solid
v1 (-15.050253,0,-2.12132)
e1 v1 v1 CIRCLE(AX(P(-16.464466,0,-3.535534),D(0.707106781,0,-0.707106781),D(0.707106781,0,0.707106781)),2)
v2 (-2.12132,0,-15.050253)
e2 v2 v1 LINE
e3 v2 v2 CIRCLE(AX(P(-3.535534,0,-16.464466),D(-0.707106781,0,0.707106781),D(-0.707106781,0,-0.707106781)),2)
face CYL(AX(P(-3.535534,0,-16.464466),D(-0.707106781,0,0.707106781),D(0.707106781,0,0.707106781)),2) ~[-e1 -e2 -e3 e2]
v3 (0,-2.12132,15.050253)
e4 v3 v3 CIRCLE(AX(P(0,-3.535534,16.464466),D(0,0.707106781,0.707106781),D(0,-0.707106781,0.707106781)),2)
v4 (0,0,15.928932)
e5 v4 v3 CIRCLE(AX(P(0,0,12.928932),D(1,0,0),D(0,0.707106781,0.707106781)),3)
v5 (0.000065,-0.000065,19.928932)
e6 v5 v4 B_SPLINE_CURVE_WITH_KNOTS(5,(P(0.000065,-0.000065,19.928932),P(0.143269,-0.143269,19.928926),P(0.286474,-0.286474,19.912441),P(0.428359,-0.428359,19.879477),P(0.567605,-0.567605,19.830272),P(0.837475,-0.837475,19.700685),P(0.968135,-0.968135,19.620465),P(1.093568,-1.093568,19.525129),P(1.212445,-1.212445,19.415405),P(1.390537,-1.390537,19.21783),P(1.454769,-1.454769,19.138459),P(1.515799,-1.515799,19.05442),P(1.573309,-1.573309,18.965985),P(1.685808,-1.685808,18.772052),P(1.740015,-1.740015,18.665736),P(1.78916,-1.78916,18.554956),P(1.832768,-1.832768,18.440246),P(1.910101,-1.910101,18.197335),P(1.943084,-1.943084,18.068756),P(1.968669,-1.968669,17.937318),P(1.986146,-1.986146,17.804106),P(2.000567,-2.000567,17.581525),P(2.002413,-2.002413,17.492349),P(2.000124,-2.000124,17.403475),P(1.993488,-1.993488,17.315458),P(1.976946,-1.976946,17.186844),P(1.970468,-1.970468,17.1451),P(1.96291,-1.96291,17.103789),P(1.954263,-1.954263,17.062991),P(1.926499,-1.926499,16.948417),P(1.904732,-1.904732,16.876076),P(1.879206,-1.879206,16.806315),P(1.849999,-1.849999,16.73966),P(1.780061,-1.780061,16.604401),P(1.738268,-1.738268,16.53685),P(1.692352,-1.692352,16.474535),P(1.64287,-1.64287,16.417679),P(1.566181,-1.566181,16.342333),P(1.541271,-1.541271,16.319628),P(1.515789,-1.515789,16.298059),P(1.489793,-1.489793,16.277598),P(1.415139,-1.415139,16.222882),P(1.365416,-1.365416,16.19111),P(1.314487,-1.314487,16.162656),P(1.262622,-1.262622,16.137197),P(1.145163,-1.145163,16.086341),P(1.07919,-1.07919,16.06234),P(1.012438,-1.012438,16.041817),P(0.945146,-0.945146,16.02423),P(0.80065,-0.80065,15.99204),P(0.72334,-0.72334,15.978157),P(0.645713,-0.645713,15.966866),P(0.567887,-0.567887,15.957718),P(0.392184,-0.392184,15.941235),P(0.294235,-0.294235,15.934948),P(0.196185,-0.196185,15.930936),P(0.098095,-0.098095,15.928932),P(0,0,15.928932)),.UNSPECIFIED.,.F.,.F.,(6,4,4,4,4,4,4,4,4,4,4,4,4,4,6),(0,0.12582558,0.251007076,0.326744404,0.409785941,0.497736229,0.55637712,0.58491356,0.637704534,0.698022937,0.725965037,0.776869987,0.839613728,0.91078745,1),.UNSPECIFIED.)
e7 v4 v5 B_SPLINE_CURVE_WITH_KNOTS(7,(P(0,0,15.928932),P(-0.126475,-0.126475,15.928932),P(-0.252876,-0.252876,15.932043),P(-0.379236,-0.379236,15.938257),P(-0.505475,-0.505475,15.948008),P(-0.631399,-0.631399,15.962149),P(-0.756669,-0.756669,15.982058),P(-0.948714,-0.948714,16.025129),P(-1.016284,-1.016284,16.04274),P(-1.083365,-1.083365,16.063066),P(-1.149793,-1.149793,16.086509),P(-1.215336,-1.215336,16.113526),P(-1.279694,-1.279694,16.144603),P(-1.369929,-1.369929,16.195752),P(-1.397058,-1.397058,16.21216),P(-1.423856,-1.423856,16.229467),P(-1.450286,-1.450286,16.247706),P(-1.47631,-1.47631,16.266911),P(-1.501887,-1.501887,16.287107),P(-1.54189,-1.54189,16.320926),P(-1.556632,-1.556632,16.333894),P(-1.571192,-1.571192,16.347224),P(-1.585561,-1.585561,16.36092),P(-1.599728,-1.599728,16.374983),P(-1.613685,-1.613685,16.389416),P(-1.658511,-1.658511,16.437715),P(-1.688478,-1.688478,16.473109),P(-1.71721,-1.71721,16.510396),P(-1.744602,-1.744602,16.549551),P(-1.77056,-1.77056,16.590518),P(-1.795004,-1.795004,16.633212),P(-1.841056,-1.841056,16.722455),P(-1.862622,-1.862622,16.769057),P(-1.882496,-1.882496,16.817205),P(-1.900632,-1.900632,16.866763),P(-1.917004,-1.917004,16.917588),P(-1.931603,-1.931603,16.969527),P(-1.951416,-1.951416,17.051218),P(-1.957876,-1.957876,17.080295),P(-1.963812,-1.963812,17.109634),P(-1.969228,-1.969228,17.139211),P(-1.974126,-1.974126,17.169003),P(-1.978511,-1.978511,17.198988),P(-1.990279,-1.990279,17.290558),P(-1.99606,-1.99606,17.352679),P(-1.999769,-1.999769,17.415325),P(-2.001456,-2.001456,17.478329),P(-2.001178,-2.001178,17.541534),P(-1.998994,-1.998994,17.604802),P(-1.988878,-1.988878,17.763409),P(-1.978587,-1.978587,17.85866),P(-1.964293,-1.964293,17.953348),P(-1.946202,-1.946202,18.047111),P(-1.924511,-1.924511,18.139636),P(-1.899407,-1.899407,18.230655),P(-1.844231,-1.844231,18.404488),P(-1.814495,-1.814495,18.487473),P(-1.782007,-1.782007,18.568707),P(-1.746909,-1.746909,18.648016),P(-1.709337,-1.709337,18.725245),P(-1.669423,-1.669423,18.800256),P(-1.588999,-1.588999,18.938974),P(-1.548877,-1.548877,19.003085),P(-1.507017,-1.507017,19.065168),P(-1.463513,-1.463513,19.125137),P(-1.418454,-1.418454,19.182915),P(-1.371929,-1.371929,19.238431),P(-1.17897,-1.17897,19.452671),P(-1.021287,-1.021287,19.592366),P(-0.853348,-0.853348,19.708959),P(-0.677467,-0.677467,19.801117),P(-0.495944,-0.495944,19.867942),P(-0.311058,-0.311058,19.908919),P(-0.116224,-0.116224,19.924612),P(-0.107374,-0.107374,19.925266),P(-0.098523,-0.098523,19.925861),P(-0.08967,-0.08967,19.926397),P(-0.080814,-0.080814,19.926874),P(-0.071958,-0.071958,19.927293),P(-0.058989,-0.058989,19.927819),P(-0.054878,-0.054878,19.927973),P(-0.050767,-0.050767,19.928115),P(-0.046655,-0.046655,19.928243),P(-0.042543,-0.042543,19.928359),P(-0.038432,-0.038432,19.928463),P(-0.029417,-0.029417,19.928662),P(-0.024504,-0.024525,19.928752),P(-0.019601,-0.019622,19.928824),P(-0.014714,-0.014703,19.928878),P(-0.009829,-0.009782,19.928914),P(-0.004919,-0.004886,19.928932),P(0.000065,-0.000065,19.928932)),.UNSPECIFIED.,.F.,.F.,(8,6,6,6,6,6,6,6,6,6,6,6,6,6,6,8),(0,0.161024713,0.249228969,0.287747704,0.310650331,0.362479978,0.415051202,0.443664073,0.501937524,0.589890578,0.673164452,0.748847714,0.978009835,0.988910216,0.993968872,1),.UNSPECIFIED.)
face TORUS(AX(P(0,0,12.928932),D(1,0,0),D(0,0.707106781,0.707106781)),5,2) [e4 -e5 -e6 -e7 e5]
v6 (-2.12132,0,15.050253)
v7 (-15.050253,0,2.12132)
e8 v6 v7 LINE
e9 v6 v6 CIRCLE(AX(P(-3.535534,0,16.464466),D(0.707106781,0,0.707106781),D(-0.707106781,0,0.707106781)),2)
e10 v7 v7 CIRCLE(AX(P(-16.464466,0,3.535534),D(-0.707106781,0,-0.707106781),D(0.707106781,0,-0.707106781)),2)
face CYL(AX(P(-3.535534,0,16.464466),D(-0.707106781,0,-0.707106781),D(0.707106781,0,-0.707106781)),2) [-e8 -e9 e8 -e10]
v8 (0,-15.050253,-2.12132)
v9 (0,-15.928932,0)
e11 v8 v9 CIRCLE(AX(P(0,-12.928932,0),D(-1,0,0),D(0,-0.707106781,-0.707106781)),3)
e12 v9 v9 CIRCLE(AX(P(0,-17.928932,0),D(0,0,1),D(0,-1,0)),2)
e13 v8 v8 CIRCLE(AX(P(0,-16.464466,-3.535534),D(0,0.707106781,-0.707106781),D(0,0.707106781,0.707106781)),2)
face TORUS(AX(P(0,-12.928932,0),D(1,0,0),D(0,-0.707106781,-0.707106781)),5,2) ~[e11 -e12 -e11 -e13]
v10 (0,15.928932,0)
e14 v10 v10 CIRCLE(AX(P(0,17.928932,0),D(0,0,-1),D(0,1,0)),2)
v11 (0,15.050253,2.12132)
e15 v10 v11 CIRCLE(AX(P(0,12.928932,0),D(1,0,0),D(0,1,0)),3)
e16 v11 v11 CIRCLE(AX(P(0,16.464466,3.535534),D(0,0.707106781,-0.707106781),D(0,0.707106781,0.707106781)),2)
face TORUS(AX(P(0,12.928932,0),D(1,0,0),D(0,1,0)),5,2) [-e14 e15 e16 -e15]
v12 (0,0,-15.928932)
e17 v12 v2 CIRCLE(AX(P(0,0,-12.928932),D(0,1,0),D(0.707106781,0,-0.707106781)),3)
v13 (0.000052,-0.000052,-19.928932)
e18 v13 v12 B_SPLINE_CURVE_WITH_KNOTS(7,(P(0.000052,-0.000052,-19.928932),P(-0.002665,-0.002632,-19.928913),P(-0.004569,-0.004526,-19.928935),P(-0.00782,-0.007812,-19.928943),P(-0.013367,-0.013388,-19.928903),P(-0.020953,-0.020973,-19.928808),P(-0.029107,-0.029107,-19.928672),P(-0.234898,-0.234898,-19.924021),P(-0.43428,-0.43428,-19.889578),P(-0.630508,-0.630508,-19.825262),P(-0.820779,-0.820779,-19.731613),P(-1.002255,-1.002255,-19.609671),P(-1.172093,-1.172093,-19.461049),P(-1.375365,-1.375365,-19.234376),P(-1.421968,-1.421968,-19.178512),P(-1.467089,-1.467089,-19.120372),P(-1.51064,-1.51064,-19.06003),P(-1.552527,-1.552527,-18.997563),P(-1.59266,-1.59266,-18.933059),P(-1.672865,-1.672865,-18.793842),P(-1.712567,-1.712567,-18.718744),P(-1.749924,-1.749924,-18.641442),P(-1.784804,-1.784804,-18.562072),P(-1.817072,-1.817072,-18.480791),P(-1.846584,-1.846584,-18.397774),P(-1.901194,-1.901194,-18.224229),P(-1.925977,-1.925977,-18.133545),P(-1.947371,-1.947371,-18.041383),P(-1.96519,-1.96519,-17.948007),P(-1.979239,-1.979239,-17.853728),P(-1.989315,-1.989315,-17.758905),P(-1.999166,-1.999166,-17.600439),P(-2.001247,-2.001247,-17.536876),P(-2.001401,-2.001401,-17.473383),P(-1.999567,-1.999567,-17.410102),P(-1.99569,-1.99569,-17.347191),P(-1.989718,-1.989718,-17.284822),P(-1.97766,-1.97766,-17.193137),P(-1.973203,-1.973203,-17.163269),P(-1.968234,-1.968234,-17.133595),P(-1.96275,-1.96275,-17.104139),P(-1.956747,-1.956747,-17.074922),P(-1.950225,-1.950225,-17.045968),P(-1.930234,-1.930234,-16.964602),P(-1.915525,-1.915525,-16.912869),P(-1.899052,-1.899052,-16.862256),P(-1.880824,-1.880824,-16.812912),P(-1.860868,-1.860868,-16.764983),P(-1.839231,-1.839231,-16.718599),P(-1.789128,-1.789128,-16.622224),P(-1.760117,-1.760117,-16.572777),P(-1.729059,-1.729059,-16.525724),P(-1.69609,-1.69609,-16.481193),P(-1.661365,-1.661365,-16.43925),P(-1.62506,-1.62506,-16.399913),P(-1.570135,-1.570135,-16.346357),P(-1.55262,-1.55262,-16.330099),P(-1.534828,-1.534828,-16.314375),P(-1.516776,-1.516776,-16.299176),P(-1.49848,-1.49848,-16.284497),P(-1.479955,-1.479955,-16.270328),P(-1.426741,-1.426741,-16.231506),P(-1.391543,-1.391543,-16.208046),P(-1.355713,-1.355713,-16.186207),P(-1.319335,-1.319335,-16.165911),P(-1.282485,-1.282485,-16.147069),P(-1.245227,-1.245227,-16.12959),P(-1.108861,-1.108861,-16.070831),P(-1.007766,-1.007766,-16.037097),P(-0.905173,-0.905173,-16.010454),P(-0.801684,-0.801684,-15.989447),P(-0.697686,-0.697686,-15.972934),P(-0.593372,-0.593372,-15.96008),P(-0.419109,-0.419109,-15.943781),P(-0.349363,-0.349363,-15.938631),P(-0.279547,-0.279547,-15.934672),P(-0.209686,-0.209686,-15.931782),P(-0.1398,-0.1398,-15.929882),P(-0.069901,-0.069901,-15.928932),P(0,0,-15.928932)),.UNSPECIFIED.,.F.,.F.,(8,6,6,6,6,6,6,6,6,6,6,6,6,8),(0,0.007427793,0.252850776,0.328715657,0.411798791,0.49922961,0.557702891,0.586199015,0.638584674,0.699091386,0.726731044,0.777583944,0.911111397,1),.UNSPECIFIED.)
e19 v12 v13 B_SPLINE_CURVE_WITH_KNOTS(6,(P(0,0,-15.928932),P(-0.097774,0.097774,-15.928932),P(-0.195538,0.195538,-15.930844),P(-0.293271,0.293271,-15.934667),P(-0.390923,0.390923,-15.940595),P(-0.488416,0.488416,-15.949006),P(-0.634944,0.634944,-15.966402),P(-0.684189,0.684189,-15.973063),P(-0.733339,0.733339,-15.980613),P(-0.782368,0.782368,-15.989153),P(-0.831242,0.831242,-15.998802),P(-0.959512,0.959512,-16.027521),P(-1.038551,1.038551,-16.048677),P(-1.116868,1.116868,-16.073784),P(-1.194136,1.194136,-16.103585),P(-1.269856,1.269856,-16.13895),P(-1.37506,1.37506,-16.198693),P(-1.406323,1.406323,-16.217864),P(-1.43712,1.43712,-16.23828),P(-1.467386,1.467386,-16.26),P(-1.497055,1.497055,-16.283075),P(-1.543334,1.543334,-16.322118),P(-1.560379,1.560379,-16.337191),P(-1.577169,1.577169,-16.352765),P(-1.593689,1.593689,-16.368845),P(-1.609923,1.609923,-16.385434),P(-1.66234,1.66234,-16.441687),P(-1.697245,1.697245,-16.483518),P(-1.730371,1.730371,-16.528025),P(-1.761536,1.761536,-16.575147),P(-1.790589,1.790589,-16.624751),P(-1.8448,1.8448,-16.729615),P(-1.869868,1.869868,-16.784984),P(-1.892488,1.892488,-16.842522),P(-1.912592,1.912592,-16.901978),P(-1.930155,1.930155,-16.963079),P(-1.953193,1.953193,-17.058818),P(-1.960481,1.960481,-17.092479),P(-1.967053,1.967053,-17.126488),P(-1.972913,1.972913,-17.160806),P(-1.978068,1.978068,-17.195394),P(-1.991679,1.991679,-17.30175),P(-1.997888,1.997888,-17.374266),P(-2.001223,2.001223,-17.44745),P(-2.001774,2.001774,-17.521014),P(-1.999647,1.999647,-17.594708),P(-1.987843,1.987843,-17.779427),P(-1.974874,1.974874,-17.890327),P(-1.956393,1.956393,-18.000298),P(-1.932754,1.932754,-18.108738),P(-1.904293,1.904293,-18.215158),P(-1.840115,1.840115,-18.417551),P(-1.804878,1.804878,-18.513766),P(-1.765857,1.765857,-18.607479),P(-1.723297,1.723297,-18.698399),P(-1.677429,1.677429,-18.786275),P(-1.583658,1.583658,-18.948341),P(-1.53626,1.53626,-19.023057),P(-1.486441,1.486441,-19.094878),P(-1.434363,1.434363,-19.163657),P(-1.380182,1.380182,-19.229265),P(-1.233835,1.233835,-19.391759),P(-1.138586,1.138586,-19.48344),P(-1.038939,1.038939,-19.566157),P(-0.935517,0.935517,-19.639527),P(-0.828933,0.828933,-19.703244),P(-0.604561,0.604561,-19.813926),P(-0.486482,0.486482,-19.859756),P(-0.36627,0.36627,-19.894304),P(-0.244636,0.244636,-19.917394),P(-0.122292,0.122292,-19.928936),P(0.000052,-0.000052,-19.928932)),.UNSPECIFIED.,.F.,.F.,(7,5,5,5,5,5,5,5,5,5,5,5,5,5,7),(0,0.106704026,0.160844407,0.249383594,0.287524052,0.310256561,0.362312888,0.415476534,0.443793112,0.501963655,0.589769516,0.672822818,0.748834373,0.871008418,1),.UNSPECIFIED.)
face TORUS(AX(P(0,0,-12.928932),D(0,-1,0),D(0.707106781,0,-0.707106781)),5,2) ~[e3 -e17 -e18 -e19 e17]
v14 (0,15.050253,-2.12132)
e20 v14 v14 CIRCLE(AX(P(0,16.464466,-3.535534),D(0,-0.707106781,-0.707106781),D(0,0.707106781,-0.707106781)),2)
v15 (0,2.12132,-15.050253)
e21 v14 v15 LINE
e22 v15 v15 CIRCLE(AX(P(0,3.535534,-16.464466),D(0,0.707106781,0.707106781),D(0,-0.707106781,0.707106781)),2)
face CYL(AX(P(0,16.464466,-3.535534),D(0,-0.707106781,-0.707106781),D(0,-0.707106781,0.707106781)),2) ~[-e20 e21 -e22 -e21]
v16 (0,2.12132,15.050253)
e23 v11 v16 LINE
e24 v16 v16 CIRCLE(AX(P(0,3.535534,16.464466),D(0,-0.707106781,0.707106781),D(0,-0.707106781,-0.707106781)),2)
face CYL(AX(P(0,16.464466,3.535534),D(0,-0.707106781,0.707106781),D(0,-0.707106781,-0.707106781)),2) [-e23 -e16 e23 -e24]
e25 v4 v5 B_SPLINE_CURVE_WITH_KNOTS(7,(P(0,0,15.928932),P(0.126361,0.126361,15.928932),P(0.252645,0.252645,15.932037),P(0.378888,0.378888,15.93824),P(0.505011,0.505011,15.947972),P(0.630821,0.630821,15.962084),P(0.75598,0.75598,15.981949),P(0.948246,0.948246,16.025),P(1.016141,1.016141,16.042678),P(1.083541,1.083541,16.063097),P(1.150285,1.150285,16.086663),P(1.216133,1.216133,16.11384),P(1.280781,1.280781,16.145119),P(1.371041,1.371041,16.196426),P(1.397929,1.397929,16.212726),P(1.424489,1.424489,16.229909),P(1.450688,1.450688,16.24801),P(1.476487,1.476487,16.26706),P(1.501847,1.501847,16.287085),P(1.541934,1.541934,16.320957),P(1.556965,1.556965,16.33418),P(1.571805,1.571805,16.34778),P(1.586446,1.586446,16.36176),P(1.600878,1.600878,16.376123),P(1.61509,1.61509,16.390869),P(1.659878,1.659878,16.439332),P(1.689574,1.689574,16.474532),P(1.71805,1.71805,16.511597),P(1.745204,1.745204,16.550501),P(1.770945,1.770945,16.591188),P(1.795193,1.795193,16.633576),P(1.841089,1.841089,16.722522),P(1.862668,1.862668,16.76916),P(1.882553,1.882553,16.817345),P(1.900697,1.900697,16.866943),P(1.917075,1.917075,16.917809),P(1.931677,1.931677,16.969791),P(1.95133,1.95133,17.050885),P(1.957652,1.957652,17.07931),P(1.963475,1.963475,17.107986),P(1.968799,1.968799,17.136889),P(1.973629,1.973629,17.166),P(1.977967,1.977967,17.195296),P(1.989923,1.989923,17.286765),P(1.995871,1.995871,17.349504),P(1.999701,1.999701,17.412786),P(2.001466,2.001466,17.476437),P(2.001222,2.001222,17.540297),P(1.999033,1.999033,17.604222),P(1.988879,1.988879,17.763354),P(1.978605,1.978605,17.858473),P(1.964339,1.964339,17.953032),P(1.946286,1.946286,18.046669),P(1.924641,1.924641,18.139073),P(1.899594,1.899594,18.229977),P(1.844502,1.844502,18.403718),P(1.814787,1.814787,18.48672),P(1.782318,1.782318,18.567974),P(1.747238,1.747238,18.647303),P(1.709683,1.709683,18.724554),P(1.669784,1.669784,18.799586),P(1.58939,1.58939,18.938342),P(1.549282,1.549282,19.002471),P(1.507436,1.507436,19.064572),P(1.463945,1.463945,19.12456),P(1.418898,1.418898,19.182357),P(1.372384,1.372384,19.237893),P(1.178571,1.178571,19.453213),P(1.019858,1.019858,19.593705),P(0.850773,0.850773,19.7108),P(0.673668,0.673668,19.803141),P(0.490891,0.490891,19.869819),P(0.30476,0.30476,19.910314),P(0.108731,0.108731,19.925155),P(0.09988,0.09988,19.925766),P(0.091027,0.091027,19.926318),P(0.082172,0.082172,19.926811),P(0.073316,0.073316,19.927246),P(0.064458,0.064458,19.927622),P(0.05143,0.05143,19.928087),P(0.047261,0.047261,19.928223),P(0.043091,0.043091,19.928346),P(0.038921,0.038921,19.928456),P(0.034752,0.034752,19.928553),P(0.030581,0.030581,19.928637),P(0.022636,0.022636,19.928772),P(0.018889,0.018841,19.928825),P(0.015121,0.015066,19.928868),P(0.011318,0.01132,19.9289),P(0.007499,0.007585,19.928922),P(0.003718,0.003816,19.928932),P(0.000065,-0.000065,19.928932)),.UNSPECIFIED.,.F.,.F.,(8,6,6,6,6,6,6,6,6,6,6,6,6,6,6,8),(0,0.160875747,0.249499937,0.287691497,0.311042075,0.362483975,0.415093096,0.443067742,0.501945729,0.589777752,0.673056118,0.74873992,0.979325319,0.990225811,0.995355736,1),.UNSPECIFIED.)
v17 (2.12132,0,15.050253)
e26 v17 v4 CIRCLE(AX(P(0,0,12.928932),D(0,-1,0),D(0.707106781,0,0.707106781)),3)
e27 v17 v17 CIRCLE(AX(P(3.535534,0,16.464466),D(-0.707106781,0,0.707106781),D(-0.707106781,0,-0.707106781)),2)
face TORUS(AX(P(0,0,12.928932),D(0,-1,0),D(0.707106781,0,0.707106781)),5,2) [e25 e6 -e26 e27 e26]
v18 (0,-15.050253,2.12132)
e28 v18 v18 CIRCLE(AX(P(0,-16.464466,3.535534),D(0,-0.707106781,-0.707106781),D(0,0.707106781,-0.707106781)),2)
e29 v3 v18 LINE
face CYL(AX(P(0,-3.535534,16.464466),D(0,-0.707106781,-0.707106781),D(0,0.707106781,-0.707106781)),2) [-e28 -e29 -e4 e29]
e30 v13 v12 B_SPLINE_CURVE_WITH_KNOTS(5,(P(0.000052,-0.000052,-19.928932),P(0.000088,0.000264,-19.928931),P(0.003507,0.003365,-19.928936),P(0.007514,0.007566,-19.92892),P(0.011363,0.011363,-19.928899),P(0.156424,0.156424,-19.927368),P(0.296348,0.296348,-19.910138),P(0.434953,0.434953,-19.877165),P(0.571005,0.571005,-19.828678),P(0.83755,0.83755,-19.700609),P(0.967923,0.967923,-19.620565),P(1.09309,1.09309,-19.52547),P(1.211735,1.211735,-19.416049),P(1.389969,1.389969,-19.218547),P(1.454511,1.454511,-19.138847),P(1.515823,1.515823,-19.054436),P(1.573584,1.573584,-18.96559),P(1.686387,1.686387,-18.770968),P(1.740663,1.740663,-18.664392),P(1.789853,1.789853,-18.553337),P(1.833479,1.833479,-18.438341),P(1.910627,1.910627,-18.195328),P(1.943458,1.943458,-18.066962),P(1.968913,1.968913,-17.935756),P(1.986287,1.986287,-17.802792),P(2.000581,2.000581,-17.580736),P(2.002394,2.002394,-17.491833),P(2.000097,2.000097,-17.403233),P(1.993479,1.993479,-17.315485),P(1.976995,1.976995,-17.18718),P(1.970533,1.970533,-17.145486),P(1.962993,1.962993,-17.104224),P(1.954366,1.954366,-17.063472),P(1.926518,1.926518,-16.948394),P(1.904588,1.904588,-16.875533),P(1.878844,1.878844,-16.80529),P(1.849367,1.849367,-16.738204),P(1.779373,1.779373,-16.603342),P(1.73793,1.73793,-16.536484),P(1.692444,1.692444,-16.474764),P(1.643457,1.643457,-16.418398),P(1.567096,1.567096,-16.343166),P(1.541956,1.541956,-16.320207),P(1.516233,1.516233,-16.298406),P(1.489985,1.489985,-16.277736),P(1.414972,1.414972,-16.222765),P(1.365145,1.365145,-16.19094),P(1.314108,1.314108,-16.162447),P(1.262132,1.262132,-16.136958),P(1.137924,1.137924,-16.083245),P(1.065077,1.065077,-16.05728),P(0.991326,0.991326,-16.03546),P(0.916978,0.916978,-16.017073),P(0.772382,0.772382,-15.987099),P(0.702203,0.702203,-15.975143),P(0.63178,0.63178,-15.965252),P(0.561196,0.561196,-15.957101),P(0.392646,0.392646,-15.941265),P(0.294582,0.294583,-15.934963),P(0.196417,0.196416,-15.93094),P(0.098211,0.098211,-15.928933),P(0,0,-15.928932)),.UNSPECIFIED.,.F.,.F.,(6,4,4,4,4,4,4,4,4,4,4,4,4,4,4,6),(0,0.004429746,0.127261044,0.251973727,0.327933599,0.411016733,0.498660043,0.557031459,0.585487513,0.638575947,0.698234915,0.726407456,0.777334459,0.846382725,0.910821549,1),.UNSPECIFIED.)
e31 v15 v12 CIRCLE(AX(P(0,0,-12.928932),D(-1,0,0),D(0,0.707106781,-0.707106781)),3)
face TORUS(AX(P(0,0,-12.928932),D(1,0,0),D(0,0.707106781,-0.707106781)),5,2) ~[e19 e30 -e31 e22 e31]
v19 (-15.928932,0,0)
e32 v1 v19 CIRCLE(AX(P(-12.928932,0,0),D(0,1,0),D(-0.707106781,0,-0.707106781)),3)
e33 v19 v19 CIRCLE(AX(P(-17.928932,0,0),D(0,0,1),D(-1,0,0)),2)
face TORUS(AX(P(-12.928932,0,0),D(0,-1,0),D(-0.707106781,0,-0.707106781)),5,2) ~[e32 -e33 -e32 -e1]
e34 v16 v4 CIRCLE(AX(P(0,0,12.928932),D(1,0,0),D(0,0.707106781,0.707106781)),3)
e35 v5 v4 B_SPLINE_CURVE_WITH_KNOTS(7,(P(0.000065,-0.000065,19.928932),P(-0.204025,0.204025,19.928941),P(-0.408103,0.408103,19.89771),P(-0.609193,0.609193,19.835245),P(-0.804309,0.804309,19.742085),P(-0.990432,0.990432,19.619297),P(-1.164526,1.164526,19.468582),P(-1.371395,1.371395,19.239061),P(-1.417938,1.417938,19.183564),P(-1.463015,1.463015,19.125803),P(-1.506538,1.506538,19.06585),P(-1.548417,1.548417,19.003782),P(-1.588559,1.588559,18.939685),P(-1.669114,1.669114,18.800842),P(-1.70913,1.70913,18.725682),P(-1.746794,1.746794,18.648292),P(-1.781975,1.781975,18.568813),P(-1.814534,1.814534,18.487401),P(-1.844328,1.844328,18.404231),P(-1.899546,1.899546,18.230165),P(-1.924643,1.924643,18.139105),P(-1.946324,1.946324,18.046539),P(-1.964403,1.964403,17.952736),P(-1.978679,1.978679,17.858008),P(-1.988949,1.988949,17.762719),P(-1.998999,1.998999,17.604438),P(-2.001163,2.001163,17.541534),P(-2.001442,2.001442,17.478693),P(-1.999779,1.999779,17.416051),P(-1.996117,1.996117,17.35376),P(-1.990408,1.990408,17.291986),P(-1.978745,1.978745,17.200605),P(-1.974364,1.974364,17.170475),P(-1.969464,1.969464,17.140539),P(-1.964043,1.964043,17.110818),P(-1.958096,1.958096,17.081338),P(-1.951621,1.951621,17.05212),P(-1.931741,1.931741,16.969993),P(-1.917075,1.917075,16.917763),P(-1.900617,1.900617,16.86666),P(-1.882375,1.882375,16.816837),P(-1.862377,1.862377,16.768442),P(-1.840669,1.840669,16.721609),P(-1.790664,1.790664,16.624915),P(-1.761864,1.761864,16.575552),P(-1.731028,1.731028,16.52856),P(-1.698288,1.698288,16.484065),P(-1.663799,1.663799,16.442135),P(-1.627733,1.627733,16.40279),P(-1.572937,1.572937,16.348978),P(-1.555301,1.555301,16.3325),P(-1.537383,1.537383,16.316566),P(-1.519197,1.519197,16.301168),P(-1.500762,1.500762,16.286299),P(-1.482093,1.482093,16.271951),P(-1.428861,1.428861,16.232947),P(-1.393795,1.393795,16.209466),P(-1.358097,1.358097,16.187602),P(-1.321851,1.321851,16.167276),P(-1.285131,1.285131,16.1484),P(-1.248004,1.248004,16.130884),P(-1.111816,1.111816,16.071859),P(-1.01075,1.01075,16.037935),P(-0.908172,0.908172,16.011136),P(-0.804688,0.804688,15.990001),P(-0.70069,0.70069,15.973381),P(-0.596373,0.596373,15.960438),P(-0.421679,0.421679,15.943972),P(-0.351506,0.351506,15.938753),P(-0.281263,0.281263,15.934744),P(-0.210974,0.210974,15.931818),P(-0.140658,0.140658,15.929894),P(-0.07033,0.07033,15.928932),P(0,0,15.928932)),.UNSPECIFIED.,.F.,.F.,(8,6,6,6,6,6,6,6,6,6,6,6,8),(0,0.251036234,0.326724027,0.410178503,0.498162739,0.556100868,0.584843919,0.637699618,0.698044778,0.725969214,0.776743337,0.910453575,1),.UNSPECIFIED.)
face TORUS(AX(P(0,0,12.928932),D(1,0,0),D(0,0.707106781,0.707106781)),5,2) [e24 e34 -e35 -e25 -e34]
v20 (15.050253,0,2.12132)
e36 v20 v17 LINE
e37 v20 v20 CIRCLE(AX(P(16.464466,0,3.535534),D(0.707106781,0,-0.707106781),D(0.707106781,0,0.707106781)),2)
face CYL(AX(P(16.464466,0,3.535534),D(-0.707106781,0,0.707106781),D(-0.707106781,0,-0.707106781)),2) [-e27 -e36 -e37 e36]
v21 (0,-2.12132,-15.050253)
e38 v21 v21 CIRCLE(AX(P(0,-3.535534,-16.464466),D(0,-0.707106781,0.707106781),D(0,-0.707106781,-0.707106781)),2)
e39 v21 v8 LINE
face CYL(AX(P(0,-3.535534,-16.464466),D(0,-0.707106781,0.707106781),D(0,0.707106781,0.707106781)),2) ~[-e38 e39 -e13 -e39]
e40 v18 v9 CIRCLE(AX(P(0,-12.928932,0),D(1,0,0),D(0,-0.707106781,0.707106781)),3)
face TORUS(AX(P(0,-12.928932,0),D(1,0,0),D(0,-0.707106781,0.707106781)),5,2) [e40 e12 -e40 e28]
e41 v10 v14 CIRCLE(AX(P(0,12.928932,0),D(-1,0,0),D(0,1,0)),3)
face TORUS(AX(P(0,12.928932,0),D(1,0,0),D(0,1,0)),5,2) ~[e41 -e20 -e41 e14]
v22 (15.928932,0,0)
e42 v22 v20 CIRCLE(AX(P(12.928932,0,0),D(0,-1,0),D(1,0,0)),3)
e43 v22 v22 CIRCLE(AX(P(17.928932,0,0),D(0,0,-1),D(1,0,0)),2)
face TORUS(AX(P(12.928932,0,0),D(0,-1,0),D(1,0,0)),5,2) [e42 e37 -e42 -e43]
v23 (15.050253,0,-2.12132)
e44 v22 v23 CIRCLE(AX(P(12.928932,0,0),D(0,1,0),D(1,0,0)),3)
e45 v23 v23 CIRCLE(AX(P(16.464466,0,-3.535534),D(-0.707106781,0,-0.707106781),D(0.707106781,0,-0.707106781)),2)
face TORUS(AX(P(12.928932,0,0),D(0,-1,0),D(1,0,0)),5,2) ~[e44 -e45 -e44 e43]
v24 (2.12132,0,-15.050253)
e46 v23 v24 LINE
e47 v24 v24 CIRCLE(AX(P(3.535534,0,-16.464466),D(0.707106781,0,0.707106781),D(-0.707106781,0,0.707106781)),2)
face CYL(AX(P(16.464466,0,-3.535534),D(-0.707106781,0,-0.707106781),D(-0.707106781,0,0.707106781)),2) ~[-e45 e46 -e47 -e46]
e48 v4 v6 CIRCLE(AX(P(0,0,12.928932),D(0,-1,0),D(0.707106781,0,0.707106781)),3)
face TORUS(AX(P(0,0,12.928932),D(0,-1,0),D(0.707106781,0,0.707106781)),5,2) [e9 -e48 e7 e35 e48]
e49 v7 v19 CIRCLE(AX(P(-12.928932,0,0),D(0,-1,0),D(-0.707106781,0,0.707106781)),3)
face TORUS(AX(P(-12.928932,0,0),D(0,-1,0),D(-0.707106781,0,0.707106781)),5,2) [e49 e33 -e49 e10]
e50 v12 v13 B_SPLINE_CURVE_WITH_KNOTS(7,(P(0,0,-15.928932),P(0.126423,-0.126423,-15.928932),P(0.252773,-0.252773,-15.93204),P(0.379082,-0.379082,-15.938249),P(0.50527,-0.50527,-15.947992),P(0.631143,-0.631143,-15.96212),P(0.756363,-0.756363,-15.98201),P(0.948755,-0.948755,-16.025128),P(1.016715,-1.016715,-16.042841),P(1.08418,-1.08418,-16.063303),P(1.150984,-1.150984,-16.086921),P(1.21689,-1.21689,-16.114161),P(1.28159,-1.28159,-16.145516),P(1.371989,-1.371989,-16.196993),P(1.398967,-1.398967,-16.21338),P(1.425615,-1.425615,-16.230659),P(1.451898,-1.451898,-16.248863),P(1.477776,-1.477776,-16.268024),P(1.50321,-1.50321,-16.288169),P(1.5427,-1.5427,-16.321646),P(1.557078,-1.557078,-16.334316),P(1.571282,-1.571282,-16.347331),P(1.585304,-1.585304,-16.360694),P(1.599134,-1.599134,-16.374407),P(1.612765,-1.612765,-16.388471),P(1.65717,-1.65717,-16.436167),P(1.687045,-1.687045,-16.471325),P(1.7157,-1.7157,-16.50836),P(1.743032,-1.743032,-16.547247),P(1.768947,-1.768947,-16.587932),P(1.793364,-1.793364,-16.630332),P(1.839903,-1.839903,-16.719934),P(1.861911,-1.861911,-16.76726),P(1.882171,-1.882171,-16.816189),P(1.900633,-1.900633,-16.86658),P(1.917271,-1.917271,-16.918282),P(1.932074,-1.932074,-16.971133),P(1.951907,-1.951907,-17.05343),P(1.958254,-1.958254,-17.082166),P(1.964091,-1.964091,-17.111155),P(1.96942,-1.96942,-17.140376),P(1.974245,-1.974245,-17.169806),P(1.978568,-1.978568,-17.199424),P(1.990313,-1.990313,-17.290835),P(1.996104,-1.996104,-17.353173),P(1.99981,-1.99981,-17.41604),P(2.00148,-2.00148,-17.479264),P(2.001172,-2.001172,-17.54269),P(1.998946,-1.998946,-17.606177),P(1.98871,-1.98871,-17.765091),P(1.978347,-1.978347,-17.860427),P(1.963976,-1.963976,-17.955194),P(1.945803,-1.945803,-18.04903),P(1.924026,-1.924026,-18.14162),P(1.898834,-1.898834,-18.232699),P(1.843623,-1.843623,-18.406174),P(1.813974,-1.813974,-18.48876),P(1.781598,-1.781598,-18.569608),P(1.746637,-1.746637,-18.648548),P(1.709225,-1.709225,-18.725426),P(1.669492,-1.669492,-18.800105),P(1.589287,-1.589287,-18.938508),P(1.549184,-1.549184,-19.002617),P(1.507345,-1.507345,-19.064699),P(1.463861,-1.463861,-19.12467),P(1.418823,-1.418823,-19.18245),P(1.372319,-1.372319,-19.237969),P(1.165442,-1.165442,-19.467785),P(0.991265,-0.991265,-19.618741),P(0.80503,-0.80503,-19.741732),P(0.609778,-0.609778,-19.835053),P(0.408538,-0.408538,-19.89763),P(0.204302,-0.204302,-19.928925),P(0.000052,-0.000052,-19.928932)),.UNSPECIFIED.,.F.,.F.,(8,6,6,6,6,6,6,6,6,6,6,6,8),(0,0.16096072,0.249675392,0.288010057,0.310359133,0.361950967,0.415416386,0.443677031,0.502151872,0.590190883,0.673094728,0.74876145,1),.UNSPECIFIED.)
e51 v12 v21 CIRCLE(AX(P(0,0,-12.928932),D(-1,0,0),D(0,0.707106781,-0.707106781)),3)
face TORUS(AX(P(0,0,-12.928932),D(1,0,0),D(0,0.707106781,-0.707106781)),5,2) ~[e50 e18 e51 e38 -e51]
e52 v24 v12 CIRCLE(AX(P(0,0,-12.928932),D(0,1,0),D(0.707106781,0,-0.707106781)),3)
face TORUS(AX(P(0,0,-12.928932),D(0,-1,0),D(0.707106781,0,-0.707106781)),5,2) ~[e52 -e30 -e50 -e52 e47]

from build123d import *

# Parameters (mm, degrees)
F1_R     = 2
F5_COUNT = 2
F5_ANGLE = 90


with BuildPart() as f2:
    # F2: sweep along a path in F0
    with BuildLine(Plane.XZ) as f2_path:
        ThreePointArc((17.9289321881, 0), (17.5483298507, 1.9134171618), (16.4644660941, 3.5355339059))
        Line((16.4644660941, 3.5355339059), (3.5355339059, 16.4644660941))
        ThreePointArc((3.5355339059, 16.4644660941), (0, 17.9289321881), (-3.5355339059, 16.4644660941))
        Line((-3.5355339059, 16.4644660941), (-16.4644660941, 3.5355339059))
        ThreePointArc((-16.4644660941, 3.5355339059), (-17.5483298507, 1.9134171618), (-17.9289321881, 0))
    # F1 (on Top) → F2 (sweep)
    with BuildSketch(Plane.XY):
        with Locations((-17.9289321881, 0)):
            Circle(F1_R)
    sweep(path=f2_path.line)

    # F3: F2 across face


with BuildPart() as f2_1:
    add(f2.part)
    add(f2.part.mirror(Plane(origin=(-17.9289321881, 0, 0), x_dir=(1, 0, 0), z_dir=(0, 0, -1))))

    # F5: F2 ×2 about axis
    f5_axis = Axis((0, 0, 11.396439746), (0, 0, 1))


with BuildPart() as f2_2:
    add(f2_1.part)
    for i in range(1, F5_COUNT):
        add(f2_1.part.rotate(f5_axis, i * F5_ANGLE / (F5_COUNT - 1)))


solid = f2_2.part
